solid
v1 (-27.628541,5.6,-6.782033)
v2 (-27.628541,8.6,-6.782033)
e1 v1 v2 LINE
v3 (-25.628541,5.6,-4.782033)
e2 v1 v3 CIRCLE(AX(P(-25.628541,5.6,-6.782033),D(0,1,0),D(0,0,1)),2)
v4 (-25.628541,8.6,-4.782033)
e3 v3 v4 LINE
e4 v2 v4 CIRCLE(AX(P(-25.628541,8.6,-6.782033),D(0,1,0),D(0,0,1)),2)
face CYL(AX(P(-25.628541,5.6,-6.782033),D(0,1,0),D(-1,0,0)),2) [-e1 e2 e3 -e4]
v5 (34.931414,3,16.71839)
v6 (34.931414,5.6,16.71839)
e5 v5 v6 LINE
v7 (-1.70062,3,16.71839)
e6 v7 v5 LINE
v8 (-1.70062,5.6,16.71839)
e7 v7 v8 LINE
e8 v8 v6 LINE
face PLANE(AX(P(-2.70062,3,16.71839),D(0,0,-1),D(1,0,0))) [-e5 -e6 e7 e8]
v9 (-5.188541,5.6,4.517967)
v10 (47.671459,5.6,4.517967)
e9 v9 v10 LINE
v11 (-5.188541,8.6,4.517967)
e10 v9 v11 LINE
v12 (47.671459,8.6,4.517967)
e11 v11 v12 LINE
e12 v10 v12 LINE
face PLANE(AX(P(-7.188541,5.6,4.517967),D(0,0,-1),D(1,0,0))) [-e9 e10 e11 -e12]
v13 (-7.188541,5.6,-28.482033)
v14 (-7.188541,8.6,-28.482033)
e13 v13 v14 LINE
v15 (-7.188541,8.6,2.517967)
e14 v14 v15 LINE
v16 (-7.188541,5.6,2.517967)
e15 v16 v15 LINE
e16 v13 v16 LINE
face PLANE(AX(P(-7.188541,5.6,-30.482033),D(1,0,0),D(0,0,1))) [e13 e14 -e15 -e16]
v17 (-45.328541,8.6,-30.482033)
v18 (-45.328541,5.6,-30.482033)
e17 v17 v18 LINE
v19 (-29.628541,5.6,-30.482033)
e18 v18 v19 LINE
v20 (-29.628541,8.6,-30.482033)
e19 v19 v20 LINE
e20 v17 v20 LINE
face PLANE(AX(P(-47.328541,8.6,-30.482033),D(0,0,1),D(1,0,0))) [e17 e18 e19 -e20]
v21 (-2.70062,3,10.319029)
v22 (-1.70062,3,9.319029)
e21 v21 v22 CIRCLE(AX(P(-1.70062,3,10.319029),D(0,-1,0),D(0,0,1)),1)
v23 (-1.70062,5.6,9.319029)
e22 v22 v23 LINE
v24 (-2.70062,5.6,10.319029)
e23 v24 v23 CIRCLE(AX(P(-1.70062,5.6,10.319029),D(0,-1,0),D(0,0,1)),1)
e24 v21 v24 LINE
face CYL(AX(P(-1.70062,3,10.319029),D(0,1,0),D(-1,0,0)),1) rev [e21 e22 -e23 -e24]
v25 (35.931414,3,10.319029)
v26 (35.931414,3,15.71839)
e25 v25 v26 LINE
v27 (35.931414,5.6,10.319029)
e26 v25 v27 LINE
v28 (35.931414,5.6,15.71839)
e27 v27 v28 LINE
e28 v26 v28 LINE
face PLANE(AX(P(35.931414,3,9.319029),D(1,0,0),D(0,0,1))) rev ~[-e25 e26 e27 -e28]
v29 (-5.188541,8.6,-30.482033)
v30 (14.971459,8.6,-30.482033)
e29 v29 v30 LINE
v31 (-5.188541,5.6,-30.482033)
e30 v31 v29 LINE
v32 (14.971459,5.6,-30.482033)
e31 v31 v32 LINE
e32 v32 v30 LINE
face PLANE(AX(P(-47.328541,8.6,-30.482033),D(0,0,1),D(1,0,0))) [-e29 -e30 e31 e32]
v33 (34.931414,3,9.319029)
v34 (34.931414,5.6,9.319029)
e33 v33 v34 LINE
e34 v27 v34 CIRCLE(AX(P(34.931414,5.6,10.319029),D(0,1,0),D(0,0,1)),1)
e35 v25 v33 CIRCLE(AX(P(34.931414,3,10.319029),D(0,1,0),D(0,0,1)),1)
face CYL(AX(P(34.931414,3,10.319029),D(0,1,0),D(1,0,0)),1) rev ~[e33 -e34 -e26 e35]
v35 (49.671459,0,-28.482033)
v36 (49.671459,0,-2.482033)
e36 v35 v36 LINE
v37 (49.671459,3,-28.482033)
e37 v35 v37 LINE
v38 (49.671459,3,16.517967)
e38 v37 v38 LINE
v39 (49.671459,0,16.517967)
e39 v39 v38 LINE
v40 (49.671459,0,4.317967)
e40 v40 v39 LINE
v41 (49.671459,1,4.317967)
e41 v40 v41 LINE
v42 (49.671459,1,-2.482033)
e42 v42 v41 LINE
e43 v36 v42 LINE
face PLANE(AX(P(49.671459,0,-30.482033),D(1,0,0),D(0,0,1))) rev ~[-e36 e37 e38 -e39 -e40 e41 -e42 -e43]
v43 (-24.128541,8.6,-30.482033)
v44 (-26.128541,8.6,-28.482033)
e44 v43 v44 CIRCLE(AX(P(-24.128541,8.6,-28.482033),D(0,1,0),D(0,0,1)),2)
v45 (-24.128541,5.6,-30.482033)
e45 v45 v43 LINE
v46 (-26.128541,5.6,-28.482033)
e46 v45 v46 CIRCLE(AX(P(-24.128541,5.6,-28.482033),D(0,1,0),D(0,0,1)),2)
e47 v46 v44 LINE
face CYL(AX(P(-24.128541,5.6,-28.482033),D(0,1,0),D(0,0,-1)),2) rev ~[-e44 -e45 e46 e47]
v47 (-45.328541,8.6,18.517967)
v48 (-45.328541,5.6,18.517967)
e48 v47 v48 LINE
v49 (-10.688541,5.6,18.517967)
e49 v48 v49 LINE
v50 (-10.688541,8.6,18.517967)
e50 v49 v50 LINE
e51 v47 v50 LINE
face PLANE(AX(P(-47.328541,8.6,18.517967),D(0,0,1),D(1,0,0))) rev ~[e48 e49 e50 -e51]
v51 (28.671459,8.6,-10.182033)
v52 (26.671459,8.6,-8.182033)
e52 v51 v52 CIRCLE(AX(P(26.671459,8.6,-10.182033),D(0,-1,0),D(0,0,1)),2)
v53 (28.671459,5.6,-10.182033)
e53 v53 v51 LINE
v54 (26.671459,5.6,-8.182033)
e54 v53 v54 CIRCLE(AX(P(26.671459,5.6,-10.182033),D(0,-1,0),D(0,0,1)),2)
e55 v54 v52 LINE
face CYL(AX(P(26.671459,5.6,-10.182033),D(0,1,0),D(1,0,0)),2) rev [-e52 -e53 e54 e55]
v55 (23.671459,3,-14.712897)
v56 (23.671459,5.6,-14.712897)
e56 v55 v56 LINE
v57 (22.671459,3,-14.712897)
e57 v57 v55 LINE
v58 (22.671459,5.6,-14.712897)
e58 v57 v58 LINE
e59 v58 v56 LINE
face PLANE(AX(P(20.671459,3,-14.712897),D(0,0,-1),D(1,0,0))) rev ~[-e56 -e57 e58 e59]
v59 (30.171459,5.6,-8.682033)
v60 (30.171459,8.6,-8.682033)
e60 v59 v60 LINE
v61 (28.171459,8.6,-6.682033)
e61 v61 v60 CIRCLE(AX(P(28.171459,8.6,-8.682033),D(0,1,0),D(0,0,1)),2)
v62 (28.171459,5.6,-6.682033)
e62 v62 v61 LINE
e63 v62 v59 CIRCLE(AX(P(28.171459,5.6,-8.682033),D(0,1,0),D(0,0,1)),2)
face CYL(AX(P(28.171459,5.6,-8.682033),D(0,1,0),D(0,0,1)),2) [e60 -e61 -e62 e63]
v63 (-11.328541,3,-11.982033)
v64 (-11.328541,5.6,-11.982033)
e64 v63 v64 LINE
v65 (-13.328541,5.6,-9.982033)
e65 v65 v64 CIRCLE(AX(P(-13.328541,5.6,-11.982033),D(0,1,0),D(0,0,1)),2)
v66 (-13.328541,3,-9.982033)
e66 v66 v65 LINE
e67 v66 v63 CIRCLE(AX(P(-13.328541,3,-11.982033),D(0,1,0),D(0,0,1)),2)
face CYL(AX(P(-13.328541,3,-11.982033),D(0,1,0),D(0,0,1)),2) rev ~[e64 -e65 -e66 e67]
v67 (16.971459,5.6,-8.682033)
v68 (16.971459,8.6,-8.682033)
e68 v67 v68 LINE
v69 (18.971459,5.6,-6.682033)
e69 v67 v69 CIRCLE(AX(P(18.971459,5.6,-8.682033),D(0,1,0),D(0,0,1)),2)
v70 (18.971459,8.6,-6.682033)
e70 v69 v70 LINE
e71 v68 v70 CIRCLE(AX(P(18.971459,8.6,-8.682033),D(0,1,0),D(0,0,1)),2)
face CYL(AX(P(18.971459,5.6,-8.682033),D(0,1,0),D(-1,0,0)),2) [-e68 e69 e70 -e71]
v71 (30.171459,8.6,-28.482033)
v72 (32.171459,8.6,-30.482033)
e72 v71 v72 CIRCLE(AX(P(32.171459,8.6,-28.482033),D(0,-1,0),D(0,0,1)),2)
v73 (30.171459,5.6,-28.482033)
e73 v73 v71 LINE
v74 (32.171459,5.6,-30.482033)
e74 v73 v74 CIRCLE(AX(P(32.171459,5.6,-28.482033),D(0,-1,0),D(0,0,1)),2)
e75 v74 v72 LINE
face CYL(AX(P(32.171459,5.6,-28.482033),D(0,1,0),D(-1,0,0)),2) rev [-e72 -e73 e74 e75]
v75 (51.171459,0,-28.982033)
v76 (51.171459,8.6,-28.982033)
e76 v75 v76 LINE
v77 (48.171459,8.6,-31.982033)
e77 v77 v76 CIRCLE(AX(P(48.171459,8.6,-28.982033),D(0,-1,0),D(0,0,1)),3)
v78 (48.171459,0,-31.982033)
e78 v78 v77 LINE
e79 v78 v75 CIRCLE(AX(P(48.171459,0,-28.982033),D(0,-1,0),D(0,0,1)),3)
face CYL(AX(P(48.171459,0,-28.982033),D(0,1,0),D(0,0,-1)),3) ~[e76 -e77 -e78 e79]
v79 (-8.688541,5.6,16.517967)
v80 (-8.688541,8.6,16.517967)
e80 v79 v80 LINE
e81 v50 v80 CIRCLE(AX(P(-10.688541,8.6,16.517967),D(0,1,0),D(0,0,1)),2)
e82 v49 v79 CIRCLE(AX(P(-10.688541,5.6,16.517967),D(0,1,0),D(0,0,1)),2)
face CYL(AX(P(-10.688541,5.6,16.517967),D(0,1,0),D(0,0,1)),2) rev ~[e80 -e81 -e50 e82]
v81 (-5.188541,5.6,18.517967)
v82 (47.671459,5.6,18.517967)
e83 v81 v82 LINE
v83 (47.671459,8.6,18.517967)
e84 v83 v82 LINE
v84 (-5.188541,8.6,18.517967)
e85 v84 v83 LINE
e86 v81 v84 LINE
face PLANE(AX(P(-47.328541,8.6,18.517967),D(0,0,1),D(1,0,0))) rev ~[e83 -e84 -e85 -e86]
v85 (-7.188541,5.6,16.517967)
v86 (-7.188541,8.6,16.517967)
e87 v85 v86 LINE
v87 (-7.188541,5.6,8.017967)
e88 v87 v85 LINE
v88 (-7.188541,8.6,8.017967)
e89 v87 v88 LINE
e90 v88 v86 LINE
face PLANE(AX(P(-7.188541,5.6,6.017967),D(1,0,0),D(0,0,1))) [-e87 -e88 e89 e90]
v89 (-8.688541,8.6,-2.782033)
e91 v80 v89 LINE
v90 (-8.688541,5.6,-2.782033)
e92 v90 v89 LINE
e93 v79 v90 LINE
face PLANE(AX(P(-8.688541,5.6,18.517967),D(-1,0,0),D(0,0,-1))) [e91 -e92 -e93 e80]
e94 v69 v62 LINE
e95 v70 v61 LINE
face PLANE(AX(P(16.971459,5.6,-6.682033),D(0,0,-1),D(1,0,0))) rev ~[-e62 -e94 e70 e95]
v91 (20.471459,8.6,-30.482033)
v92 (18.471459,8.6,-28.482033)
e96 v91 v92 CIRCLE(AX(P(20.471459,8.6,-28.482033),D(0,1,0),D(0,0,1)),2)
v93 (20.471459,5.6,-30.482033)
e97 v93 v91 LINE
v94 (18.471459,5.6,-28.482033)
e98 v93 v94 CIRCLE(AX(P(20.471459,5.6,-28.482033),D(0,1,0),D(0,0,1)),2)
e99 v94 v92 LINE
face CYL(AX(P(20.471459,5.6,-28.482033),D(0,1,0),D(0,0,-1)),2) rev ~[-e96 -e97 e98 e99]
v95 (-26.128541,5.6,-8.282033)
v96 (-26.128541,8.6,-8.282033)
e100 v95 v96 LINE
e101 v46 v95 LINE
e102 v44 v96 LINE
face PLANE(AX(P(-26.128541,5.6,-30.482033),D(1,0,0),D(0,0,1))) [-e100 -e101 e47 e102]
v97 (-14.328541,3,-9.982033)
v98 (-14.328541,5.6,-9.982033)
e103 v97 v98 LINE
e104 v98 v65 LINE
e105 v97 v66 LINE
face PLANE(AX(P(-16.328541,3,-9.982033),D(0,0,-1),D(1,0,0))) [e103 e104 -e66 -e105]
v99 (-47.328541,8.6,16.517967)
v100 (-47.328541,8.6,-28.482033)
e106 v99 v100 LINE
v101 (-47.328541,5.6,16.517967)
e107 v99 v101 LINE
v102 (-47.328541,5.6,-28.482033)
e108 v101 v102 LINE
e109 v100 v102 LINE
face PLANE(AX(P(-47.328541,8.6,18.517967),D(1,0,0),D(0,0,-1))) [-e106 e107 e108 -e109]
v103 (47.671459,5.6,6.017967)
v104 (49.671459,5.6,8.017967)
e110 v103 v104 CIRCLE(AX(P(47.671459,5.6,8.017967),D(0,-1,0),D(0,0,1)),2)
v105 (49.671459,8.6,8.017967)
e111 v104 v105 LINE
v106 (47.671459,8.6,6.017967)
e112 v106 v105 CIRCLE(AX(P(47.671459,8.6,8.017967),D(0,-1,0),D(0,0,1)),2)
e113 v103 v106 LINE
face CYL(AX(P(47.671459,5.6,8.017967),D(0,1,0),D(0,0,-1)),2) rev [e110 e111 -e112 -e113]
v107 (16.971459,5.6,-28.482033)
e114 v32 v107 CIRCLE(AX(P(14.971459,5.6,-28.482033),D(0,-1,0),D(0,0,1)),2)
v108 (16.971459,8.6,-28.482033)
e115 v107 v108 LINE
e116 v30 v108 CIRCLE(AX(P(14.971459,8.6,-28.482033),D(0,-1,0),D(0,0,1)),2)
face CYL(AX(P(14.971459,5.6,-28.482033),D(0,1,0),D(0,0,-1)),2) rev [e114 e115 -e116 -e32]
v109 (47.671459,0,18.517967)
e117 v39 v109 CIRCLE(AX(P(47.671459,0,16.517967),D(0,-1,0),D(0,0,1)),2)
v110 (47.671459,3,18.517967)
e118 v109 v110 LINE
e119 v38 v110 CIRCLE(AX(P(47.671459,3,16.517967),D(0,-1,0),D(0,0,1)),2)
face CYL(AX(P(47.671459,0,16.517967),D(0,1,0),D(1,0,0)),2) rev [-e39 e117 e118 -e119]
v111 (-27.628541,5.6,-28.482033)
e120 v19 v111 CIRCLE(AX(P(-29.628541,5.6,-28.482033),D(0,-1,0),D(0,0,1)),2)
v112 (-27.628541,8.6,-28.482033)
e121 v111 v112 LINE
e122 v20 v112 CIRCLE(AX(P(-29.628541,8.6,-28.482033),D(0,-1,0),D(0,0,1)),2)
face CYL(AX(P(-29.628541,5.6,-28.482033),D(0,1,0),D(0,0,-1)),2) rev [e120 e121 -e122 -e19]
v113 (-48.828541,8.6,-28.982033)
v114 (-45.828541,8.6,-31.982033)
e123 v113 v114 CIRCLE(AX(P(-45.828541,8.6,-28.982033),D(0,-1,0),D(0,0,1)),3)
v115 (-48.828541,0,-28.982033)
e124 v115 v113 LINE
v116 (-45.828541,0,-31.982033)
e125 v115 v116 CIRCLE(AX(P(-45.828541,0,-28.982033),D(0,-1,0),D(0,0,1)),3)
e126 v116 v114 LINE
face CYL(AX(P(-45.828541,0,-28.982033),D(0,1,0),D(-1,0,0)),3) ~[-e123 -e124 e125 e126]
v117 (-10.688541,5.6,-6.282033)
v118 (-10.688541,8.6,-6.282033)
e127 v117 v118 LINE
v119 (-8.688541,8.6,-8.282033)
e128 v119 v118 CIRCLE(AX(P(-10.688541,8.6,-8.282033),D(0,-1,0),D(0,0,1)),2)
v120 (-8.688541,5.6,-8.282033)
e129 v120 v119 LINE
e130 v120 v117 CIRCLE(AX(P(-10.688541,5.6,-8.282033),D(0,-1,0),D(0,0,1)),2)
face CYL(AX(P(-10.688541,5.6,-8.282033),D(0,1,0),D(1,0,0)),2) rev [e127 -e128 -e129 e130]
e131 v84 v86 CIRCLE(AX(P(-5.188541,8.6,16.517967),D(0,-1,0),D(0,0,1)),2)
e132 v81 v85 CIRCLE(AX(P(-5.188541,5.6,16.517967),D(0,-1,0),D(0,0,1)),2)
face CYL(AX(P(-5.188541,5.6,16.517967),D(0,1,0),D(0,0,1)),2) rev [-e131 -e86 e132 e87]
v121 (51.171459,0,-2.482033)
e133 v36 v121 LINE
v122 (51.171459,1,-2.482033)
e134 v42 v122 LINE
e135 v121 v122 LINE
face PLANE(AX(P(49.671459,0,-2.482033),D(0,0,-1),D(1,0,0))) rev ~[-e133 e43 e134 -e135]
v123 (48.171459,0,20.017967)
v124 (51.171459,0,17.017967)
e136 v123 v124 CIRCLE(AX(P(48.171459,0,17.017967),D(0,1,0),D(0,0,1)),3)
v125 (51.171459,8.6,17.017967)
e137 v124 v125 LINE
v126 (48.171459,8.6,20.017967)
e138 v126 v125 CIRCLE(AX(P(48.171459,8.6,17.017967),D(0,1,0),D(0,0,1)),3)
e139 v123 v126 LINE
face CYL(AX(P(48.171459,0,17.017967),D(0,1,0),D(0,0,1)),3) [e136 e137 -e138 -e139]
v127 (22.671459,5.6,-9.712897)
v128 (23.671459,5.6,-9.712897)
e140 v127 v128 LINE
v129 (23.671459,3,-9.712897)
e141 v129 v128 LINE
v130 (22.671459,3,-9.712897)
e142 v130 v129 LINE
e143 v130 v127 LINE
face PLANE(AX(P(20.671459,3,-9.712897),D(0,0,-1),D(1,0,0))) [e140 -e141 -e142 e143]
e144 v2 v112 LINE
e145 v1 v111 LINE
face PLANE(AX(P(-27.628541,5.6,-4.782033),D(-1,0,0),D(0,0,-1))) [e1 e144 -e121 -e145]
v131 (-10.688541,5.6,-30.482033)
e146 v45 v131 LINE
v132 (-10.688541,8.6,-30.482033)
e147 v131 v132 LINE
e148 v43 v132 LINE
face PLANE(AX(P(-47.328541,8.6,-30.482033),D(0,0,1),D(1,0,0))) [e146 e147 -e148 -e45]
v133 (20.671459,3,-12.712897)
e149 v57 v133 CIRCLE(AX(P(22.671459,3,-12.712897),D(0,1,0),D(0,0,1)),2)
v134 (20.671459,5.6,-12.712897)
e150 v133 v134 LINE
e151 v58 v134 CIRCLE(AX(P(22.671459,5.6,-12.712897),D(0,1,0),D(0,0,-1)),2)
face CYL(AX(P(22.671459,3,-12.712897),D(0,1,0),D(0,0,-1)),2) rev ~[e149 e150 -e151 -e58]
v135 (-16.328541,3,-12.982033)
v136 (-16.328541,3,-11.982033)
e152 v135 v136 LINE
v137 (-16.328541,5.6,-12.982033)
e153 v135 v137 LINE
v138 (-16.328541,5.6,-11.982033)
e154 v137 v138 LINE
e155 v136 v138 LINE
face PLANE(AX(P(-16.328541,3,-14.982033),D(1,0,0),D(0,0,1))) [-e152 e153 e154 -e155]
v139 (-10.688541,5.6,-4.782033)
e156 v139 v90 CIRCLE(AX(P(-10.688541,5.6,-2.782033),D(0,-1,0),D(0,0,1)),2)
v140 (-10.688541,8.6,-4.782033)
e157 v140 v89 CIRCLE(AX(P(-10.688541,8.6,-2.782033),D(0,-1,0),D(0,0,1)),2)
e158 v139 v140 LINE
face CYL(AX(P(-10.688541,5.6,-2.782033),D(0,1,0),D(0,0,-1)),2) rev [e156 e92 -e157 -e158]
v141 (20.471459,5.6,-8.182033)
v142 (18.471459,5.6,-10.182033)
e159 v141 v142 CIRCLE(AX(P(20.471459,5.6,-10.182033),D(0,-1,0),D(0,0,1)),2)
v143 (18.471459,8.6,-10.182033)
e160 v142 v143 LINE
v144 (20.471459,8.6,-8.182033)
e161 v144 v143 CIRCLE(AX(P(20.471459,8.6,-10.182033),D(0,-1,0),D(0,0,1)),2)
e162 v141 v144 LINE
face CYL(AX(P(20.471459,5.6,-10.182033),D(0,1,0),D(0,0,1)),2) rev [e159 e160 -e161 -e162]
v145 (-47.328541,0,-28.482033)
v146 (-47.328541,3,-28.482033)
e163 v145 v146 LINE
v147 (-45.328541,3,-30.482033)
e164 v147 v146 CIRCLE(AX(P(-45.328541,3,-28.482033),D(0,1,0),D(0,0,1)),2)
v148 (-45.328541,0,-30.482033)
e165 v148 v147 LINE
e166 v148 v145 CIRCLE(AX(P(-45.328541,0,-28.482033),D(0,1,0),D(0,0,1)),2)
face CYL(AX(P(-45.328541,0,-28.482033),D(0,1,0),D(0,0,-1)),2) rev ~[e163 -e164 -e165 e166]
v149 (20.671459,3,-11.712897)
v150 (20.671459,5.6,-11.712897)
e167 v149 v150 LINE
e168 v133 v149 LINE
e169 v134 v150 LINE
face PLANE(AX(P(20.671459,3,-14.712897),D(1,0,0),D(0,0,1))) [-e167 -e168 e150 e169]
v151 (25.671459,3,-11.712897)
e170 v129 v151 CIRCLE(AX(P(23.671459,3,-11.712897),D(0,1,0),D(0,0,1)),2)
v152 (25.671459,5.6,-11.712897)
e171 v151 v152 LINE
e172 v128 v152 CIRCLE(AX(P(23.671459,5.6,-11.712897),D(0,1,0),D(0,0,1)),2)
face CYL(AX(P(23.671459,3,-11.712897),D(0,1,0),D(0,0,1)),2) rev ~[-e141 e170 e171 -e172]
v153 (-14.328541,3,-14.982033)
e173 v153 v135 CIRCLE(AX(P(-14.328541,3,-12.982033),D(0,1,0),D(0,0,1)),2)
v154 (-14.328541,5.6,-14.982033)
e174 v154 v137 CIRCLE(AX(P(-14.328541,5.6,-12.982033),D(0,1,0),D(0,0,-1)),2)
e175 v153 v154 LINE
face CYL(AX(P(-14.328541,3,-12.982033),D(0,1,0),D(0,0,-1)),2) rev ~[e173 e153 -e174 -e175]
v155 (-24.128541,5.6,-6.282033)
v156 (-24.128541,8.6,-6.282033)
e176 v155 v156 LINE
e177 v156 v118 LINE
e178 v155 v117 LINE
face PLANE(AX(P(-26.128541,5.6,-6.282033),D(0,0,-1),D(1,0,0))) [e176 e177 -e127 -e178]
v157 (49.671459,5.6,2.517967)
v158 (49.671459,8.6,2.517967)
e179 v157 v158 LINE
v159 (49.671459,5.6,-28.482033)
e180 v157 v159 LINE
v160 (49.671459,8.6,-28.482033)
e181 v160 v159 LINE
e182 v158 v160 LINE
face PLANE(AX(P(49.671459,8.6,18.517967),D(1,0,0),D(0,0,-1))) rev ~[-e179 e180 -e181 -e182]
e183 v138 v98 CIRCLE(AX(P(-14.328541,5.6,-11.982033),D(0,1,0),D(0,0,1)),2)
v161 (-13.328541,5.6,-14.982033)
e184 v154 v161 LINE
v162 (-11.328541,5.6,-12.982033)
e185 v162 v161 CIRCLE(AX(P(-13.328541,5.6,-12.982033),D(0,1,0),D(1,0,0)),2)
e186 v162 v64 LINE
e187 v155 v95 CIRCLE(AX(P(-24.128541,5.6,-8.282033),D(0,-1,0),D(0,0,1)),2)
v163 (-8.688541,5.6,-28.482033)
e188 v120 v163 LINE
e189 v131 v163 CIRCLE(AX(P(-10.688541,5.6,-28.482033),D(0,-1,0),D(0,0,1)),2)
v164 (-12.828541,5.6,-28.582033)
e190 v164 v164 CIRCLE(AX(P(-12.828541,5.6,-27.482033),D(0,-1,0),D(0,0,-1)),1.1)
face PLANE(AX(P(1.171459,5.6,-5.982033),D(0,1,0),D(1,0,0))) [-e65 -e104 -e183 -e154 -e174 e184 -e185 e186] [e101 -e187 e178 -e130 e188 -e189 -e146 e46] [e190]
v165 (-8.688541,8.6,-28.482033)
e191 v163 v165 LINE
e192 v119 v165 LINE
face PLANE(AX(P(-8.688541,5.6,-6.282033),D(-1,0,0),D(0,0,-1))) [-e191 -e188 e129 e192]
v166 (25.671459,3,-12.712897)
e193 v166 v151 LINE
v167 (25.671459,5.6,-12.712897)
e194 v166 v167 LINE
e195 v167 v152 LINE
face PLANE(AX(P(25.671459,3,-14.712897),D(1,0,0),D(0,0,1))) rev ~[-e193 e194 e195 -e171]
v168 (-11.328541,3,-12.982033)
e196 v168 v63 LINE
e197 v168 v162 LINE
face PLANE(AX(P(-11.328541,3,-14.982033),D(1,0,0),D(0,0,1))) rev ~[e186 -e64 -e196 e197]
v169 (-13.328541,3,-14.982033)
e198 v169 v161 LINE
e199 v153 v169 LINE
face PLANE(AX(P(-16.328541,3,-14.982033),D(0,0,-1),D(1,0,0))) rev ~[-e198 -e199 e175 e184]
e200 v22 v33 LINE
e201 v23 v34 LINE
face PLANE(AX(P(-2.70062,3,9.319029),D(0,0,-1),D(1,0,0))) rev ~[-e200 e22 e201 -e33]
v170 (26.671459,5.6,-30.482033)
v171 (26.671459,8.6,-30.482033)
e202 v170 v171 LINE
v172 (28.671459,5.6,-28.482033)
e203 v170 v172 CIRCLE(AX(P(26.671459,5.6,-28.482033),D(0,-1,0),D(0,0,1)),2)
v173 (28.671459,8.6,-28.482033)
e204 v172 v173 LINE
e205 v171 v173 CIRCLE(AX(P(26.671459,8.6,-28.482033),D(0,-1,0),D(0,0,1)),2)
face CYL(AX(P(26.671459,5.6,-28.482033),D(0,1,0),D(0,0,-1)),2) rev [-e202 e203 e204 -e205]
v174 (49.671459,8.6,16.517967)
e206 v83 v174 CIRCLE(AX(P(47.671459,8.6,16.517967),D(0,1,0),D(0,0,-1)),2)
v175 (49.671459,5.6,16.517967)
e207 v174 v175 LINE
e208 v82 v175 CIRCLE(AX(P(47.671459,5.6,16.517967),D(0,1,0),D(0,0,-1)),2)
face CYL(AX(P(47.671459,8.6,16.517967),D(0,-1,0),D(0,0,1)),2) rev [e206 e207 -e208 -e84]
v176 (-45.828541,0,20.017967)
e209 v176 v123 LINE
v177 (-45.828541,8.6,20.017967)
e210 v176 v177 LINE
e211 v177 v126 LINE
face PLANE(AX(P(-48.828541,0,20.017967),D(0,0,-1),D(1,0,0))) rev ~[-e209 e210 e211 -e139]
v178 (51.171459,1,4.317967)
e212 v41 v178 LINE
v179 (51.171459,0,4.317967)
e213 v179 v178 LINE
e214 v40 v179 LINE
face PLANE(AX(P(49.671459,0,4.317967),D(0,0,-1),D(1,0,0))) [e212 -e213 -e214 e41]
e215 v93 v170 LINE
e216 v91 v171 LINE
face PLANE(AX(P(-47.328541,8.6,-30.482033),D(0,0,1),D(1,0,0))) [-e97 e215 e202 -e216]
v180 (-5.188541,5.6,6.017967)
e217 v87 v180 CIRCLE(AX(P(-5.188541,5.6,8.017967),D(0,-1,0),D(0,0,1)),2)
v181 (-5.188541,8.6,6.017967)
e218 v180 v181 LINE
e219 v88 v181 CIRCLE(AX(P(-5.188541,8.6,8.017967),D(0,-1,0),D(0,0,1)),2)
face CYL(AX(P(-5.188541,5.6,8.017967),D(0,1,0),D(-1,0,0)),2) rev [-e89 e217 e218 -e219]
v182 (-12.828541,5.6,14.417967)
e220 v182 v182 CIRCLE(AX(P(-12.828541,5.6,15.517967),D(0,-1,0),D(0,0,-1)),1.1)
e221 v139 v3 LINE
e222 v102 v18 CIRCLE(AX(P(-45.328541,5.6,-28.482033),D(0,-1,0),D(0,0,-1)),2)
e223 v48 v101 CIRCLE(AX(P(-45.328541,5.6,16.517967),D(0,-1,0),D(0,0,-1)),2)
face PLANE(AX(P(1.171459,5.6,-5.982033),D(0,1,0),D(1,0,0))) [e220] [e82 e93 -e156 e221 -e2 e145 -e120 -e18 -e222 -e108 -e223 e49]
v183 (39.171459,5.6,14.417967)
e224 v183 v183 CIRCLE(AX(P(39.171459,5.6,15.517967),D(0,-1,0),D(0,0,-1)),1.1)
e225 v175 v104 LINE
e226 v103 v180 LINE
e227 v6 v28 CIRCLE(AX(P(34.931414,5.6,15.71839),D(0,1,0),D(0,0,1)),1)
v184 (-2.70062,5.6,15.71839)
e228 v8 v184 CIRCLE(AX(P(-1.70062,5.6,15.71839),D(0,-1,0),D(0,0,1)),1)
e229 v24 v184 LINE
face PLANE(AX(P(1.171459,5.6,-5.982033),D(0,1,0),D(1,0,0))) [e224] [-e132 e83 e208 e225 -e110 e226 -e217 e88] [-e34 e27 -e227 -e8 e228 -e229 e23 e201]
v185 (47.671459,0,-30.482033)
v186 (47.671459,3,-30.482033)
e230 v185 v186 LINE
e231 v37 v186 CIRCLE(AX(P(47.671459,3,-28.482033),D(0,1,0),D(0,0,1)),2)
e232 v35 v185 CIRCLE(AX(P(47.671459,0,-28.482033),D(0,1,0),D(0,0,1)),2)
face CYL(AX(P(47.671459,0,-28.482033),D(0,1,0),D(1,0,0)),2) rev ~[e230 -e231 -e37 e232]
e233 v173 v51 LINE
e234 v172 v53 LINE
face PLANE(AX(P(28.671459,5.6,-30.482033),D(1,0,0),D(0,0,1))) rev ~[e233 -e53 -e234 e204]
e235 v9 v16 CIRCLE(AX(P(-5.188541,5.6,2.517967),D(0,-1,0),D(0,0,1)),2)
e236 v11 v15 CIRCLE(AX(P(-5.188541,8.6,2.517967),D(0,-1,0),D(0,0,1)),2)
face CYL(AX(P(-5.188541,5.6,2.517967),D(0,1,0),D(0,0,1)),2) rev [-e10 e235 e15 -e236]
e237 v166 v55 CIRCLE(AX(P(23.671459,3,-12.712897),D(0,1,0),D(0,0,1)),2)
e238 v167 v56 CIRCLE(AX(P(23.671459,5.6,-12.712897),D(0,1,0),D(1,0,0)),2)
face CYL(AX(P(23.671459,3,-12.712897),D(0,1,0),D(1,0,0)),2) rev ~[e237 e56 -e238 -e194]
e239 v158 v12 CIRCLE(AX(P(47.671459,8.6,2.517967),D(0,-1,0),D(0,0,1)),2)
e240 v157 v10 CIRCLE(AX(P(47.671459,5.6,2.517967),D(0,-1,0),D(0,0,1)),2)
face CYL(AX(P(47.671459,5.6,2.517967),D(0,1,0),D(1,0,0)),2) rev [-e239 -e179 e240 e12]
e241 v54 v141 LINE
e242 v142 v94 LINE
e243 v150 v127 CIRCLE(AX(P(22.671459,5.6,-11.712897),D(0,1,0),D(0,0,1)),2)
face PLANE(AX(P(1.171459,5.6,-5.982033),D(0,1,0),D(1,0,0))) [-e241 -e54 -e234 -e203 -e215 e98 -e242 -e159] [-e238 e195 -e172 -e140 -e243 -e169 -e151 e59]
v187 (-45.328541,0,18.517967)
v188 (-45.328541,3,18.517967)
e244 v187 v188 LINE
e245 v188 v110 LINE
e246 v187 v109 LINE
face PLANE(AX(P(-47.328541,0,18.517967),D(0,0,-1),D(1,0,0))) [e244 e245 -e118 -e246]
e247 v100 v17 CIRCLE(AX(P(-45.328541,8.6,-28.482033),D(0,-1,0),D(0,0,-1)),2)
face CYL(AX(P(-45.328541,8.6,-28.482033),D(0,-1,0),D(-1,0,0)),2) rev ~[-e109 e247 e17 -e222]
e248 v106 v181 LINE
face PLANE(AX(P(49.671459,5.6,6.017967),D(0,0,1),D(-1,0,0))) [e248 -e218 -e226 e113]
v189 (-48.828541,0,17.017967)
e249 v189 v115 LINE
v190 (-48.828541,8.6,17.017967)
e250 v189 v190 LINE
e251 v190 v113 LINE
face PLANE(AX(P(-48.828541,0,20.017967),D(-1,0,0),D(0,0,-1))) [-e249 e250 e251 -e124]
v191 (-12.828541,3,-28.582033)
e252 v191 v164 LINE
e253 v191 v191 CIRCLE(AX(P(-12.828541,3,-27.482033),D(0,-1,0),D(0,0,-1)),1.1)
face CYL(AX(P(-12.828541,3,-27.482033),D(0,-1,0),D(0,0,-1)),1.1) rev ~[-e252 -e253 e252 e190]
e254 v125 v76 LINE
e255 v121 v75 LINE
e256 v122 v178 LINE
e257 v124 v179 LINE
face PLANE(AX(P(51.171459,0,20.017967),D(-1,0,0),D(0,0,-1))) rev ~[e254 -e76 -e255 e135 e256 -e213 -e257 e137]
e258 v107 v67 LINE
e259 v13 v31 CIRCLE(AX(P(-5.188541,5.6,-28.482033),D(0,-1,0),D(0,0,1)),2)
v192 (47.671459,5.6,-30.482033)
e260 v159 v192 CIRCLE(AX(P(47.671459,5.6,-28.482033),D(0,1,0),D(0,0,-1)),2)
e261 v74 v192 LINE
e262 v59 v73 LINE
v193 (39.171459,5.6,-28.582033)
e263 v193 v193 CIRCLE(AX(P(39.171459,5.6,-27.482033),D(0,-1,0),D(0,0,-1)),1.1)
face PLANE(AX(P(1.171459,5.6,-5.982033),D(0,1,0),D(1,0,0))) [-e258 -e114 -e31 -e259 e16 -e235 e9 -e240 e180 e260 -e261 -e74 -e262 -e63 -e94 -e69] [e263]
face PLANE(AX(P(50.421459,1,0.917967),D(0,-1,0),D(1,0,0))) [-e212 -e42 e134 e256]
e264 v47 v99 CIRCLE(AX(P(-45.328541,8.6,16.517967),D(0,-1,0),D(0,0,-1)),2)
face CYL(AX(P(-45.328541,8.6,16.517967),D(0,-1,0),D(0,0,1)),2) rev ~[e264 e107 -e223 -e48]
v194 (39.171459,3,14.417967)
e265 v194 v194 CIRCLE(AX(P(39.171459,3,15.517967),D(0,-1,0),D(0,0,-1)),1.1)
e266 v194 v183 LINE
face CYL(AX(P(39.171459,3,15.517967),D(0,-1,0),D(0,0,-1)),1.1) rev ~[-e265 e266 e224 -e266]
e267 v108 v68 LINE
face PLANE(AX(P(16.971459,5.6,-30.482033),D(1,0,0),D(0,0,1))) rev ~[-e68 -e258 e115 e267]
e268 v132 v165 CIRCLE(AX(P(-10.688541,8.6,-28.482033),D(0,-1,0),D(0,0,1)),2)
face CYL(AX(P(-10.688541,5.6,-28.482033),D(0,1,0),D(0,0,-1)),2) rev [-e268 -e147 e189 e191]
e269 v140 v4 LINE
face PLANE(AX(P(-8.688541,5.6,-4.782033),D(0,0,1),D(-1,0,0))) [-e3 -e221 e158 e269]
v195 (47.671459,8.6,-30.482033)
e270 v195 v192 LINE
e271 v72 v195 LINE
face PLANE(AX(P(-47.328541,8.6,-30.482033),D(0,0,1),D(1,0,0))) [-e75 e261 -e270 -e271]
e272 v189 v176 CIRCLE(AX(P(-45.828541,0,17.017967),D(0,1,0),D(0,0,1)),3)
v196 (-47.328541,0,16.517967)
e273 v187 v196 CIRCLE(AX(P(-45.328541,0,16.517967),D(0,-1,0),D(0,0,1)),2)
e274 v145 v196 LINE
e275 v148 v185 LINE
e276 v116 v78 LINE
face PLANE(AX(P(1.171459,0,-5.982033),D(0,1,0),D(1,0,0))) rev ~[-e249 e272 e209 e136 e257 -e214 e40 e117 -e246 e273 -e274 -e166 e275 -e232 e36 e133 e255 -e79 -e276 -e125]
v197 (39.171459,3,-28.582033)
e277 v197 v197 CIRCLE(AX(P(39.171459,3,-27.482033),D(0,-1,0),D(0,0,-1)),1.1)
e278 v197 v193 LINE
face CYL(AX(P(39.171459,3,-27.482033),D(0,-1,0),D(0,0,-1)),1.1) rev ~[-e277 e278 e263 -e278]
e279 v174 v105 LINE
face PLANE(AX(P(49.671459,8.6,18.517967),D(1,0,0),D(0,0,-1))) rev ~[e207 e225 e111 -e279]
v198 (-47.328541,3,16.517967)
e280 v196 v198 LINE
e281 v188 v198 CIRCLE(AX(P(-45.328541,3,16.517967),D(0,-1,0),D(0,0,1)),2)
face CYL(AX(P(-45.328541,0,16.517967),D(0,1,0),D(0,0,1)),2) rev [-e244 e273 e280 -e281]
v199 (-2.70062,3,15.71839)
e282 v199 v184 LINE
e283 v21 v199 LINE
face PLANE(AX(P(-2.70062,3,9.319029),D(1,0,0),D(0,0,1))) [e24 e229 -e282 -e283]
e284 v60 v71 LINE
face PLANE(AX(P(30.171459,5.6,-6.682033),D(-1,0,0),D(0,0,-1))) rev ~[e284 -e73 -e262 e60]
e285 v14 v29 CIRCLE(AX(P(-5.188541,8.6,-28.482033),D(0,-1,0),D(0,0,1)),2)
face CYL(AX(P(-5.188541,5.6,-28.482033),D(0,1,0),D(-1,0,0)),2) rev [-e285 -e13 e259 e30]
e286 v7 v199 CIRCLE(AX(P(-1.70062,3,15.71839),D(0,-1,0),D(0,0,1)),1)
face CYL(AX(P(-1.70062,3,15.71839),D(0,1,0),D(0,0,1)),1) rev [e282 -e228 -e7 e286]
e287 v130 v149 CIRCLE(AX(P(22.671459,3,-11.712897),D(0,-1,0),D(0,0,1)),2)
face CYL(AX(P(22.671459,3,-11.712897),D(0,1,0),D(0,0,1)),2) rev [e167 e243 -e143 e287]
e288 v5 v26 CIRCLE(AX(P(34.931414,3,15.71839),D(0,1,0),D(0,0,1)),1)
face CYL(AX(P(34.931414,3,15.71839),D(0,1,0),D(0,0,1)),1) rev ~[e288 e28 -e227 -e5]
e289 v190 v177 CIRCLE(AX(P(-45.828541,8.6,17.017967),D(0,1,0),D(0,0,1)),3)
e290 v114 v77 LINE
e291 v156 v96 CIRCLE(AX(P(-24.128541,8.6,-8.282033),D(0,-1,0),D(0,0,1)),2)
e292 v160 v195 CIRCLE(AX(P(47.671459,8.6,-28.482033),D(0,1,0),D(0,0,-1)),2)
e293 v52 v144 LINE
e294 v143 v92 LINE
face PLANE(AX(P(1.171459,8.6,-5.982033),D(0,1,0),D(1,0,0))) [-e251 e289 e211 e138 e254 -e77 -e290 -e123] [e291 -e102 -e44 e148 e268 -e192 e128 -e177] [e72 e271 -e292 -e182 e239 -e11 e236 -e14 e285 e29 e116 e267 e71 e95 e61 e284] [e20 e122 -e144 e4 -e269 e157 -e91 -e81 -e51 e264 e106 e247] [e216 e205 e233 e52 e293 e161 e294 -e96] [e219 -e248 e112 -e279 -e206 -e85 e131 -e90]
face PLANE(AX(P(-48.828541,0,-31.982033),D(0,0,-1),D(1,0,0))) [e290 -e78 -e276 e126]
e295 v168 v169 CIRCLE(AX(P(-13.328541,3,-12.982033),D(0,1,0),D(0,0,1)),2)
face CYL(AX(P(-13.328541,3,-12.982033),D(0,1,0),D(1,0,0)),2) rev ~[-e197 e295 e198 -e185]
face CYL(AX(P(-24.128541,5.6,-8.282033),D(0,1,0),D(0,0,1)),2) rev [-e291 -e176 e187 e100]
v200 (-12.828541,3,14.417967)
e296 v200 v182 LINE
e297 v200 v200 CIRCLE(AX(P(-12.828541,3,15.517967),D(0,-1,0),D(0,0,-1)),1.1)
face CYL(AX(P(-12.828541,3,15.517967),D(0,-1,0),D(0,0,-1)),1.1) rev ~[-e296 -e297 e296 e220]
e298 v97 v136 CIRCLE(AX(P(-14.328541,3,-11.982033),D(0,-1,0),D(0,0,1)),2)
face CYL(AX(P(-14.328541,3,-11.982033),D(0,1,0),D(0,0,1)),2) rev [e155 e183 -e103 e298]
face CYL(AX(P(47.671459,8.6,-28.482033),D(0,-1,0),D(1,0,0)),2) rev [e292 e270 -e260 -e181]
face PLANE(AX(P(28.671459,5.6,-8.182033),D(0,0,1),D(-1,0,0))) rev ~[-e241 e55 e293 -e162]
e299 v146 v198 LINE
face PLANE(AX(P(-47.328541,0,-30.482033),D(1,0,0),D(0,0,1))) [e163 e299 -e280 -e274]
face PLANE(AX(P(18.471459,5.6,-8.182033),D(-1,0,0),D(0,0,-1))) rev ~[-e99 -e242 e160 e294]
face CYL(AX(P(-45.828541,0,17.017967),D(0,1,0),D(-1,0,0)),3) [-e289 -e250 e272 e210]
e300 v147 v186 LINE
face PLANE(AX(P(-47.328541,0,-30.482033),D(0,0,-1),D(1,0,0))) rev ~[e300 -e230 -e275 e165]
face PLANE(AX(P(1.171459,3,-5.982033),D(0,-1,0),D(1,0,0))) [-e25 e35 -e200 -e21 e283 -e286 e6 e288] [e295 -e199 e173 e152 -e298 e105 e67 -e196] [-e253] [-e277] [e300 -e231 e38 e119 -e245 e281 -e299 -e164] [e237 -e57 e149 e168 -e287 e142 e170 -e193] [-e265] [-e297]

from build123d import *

# Parameters (mm, degrees)
SKETCH_1_W          = 100
SKETCH_1_H          = 52
EXTRUDE_1_DEPTH     = 8.6
SKETCH_2_W          = 97
SKETCH_2_H          = 49
CUT_EXTRUDE_1_DEPTH = 3
SKETCH_3_R          = 1.1
SKETCH_3_W          = 38.632034186
SKETCH_3_H          = 7.399361665
SKETCH_3_W_2        = 5
SKETCH_3_H_2        = 5
CUT_EXTRUDE_2_DEPTH = 61.603041755
FILLET_1_R          = 2
SKETCH_4_W          = 1.5
SKETCH_4_H          = 6.8
CUT_EXTRUDE_3_DEPTH = 1
SKETCH_5_W          = 97
SKETCH_5_H          = 49
CUT_EXTRUDE_4_DEPTH = 3
EXTRUDE_2_DEPTH     = 3
FILLET_2_R          = 3
FILLET_3_R          = 2
FILLET_5_R          = 1


with BuildPart() as part:
    # 草图1 → 凸台-拉伸1 (new body)
    with BuildSketch(Plane(origin=(0, 0, 0), x_dir=(1, 0, 0), z_dir=(0, 1, 0))):
        with Locations((1.17145908, 5.982033169)):
            Rectangle(SKETCH_1_W, SKETCH_1_H)
    extrude(amount=EXTRUDE_1_DEPTH)

    # 草图2 → 切除-拉伸1 (cut)
    with BuildSketch(Plane.XZ):
        with Locations((1.17145908, -5.982033169)):
            Rectangle(SKETCH_2_W, SKETCH_2_H)
    extrude(amount=-CUT_EXTRUDE_1_DEPTH, mode=Mode.SUBTRACT)

    # 草图3 → 切除-拉伸2 (cut, through all)
    with BuildSketch(Plane.XZ.offset(-3)):
        with Locations(Location((-12.82854092, 15.517966831, 0), (0, 0, 270))):
            Circle(SKETCH_3_R)
        with Locations(Location((39.17145908, 15.517966831, 0), (0, 0, 270))):
            Circle(SKETCH_3_R)
        with Locations(Location((39.17145908, -27.482033169, 0), (0, 0, 270))):
            Circle(SKETCH_3_R)
        with Locations(Location((-12.82854092, -27.482033169, 0), (0, 0, 270))):
            Circle(SKETCH_3_R)
        with Locations((16.615396969, 13.018709543)):
            Rectangle(SKETCH_3_W, SKETCH_3_H)
        with Locations((-13.82854092, -12.482033169)):
            Rectangle(SKETCH_3_W_2, SKETCH_3_H_2)
        with Locations((23.17145908, -12.21289677)):
            Rectangle(SKETCH_3_W_2, SKETCH_3_H_2)
    extrude(amount=-CUT_EXTRUDE_2_DEPTH, mode=Mode.SUBTRACT)

    # 圆角1
    fillet_1_edges = [part.edges().sort_by_distance(p)[0] for p in [
        (20.67145908, 5.8, -14.71289677),
        (20.67145908, 5.8, -9.71289677),
        (25.67145908, 5.8, -9.71289677),
        (25.67145908, 5.8, -14.71289677),
        (-16.32854092, 5.8, -14.982033169),
        (-16.32854092, 5.8, -9.982033169),
        (-11.32854092, 5.8, -9.982033169),
        (-11.32854092, 5.8, -14.982033169),
    ]]
    fillet(fillet_1_edges, radius=FILLET_1_R)

    # 草图4 → 切除-拉伸3 (cut)
    with BuildSketch(Plane.XZ):
        with Locations((50.42145908, 0.917966831)):
            Rectangle(SKETCH_4_W, SKETCH_4_H)
    extrude(amount=-CUT_EXTRUDE_3_DEPTH, mode=Mode.SUBTRACT)

    # 草图5 → 切除-拉伸4 (cut)
    with BuildSketch(Plane(origin=(0, 8.6, 0), x_dir=(1, 0, 0), z_dir=(0, 1, 0))):
        with Locations((1.17145908, 5.982033169)):
            Rectangle(SKETCH_5_W, SKETCH_5_H)
    extrude(amount=-CUT_EXTRUDE_4_DEPTH, mode=Mode.SUBTRACT)

    # 草图7 → 凸台-拉伸2 (add, through all)
    with BuildSketch(Plane(origin=(0, 5.6, 0), x_dir=(1, 0, 0), z_dir=(0, 1, 0))):
        Polygon((-8.68854092, -18.517966831), (-8.68854092, 4.782033169), (-27.62854092, 4.782033169), (-27.62854092, 30.482033169), (-26.12854092, 30.482033169), (-26.12854092, 6.282033169), (-8.68854092, 6.282033169), (-8.68854092, 30.482033169), (-7.18854092, 30.482033169), (-7.18854092, -4.517966831), (49.67145908, -4.517966831), (49.67145908, -6.017966831), (-7.18854092, -6.017966831), (-7.18854092, -18.517966831), align=None)
        Polygon((16.97145908, 30.482033169), (16.97145908, 6.682033169), (30.17145908, 6.682033169), (30.17145908, 30.482033169), (28.67145908, 30.482033169), (28.67145908, 8.182033169), (18.47145908, 8.182033169), (18.47145908, 30.482033169), align=None)
    extrude(amount=EXTRUDE_2_DEPTH)

    # 圆角2
    fillet_2_edges = [part.edges().sort_by_distance(p)[0] for p in [
        (-48.82854092, 4.3, -31.982033169),
        (51.17145908, 4.3, -31.982033169),
        (51.17145908, 4.3, 20.017966831),
        (-48.82854092, 4.3, 20.017966831),
    ]]
    fillet(fillet_2_edges, radius=FILLET_2_R)

    # 圆角3
    fillet_3_edges = [part.edges().sort_by_distance(p)[0] for p in [
        (49.67145908, 1.5, 18.517966831),
        (49.67145908, 1.5, -30.482033169),
        (-47.32854092, 1.5, -30.482033169),
        (-47.32854092, 1.5, 18.517966831),
        (-47.32854092, 7.1, 18.517966831),
        (-47.32854092, 7.1, -30.482033169),
        (49.67145908, 7.1, -30.482033169),
        (49.67145908, 7.1, 18.517966831),
        (-8.68854092, 7.1, 18.517966831),
        (-7.18854092, 7.1, 18.517966831),
        (-7.18854092, 7.1, 6.017966831),
        (49.67145908, 7.1, 6.017966831),
        (49.67145908, 7.1, 4.517966831),
        (-7.18854092, 7.1, 4.517966831),
        (-7.18854092, 7.1, -30.482033169),
        (-8.68854092, 7.1, -30.482033169),
        (-8.68854092, 7.1, -6.282033169),
        (-26.12854092, 7.1, -6.282033169),
        (-26.12854092, 7.1, -30.482033169),
        (-27.62854092, 7.1, -30.482033169),
        (-27.62854092, 7.1, -4.782033169),
        (-8.68854092, 7.1, -4.782033169),
        (18.47145908, 7.1, -30.482033169),
        (16.97145908, 7.1, -30.482033169),
        (16.97145908, 7.1, -6.682033169),
        (30.17145908, 7.1, -6.682033169),
        (30.17145908, 7.1, -30.482033169),
        (28.67145908, 7.1, -30.482033169),
        (28.67145908, 7.1, -8.182033169),
        (18.47145908, 7.1, -8.182033169),
    ]]
    fillet(fillet_3_edges, radius=FILLET_3_R)

    # 圆角5
    fillet_5_edges = [part.edges().sort_by_distance(p)[0] for p in [
        (-2.700620124, 4.3, 16.718390375),
        (35.931414062, 4.3, 16.718390375),
        (-2.700620124, 4.3, 9.31902871),
        (35.931414062, 4.3, 9.31902871),
    ]]
    fillet(fillet_5_edges, radius=FILLET_5_R)


solid = part.part
